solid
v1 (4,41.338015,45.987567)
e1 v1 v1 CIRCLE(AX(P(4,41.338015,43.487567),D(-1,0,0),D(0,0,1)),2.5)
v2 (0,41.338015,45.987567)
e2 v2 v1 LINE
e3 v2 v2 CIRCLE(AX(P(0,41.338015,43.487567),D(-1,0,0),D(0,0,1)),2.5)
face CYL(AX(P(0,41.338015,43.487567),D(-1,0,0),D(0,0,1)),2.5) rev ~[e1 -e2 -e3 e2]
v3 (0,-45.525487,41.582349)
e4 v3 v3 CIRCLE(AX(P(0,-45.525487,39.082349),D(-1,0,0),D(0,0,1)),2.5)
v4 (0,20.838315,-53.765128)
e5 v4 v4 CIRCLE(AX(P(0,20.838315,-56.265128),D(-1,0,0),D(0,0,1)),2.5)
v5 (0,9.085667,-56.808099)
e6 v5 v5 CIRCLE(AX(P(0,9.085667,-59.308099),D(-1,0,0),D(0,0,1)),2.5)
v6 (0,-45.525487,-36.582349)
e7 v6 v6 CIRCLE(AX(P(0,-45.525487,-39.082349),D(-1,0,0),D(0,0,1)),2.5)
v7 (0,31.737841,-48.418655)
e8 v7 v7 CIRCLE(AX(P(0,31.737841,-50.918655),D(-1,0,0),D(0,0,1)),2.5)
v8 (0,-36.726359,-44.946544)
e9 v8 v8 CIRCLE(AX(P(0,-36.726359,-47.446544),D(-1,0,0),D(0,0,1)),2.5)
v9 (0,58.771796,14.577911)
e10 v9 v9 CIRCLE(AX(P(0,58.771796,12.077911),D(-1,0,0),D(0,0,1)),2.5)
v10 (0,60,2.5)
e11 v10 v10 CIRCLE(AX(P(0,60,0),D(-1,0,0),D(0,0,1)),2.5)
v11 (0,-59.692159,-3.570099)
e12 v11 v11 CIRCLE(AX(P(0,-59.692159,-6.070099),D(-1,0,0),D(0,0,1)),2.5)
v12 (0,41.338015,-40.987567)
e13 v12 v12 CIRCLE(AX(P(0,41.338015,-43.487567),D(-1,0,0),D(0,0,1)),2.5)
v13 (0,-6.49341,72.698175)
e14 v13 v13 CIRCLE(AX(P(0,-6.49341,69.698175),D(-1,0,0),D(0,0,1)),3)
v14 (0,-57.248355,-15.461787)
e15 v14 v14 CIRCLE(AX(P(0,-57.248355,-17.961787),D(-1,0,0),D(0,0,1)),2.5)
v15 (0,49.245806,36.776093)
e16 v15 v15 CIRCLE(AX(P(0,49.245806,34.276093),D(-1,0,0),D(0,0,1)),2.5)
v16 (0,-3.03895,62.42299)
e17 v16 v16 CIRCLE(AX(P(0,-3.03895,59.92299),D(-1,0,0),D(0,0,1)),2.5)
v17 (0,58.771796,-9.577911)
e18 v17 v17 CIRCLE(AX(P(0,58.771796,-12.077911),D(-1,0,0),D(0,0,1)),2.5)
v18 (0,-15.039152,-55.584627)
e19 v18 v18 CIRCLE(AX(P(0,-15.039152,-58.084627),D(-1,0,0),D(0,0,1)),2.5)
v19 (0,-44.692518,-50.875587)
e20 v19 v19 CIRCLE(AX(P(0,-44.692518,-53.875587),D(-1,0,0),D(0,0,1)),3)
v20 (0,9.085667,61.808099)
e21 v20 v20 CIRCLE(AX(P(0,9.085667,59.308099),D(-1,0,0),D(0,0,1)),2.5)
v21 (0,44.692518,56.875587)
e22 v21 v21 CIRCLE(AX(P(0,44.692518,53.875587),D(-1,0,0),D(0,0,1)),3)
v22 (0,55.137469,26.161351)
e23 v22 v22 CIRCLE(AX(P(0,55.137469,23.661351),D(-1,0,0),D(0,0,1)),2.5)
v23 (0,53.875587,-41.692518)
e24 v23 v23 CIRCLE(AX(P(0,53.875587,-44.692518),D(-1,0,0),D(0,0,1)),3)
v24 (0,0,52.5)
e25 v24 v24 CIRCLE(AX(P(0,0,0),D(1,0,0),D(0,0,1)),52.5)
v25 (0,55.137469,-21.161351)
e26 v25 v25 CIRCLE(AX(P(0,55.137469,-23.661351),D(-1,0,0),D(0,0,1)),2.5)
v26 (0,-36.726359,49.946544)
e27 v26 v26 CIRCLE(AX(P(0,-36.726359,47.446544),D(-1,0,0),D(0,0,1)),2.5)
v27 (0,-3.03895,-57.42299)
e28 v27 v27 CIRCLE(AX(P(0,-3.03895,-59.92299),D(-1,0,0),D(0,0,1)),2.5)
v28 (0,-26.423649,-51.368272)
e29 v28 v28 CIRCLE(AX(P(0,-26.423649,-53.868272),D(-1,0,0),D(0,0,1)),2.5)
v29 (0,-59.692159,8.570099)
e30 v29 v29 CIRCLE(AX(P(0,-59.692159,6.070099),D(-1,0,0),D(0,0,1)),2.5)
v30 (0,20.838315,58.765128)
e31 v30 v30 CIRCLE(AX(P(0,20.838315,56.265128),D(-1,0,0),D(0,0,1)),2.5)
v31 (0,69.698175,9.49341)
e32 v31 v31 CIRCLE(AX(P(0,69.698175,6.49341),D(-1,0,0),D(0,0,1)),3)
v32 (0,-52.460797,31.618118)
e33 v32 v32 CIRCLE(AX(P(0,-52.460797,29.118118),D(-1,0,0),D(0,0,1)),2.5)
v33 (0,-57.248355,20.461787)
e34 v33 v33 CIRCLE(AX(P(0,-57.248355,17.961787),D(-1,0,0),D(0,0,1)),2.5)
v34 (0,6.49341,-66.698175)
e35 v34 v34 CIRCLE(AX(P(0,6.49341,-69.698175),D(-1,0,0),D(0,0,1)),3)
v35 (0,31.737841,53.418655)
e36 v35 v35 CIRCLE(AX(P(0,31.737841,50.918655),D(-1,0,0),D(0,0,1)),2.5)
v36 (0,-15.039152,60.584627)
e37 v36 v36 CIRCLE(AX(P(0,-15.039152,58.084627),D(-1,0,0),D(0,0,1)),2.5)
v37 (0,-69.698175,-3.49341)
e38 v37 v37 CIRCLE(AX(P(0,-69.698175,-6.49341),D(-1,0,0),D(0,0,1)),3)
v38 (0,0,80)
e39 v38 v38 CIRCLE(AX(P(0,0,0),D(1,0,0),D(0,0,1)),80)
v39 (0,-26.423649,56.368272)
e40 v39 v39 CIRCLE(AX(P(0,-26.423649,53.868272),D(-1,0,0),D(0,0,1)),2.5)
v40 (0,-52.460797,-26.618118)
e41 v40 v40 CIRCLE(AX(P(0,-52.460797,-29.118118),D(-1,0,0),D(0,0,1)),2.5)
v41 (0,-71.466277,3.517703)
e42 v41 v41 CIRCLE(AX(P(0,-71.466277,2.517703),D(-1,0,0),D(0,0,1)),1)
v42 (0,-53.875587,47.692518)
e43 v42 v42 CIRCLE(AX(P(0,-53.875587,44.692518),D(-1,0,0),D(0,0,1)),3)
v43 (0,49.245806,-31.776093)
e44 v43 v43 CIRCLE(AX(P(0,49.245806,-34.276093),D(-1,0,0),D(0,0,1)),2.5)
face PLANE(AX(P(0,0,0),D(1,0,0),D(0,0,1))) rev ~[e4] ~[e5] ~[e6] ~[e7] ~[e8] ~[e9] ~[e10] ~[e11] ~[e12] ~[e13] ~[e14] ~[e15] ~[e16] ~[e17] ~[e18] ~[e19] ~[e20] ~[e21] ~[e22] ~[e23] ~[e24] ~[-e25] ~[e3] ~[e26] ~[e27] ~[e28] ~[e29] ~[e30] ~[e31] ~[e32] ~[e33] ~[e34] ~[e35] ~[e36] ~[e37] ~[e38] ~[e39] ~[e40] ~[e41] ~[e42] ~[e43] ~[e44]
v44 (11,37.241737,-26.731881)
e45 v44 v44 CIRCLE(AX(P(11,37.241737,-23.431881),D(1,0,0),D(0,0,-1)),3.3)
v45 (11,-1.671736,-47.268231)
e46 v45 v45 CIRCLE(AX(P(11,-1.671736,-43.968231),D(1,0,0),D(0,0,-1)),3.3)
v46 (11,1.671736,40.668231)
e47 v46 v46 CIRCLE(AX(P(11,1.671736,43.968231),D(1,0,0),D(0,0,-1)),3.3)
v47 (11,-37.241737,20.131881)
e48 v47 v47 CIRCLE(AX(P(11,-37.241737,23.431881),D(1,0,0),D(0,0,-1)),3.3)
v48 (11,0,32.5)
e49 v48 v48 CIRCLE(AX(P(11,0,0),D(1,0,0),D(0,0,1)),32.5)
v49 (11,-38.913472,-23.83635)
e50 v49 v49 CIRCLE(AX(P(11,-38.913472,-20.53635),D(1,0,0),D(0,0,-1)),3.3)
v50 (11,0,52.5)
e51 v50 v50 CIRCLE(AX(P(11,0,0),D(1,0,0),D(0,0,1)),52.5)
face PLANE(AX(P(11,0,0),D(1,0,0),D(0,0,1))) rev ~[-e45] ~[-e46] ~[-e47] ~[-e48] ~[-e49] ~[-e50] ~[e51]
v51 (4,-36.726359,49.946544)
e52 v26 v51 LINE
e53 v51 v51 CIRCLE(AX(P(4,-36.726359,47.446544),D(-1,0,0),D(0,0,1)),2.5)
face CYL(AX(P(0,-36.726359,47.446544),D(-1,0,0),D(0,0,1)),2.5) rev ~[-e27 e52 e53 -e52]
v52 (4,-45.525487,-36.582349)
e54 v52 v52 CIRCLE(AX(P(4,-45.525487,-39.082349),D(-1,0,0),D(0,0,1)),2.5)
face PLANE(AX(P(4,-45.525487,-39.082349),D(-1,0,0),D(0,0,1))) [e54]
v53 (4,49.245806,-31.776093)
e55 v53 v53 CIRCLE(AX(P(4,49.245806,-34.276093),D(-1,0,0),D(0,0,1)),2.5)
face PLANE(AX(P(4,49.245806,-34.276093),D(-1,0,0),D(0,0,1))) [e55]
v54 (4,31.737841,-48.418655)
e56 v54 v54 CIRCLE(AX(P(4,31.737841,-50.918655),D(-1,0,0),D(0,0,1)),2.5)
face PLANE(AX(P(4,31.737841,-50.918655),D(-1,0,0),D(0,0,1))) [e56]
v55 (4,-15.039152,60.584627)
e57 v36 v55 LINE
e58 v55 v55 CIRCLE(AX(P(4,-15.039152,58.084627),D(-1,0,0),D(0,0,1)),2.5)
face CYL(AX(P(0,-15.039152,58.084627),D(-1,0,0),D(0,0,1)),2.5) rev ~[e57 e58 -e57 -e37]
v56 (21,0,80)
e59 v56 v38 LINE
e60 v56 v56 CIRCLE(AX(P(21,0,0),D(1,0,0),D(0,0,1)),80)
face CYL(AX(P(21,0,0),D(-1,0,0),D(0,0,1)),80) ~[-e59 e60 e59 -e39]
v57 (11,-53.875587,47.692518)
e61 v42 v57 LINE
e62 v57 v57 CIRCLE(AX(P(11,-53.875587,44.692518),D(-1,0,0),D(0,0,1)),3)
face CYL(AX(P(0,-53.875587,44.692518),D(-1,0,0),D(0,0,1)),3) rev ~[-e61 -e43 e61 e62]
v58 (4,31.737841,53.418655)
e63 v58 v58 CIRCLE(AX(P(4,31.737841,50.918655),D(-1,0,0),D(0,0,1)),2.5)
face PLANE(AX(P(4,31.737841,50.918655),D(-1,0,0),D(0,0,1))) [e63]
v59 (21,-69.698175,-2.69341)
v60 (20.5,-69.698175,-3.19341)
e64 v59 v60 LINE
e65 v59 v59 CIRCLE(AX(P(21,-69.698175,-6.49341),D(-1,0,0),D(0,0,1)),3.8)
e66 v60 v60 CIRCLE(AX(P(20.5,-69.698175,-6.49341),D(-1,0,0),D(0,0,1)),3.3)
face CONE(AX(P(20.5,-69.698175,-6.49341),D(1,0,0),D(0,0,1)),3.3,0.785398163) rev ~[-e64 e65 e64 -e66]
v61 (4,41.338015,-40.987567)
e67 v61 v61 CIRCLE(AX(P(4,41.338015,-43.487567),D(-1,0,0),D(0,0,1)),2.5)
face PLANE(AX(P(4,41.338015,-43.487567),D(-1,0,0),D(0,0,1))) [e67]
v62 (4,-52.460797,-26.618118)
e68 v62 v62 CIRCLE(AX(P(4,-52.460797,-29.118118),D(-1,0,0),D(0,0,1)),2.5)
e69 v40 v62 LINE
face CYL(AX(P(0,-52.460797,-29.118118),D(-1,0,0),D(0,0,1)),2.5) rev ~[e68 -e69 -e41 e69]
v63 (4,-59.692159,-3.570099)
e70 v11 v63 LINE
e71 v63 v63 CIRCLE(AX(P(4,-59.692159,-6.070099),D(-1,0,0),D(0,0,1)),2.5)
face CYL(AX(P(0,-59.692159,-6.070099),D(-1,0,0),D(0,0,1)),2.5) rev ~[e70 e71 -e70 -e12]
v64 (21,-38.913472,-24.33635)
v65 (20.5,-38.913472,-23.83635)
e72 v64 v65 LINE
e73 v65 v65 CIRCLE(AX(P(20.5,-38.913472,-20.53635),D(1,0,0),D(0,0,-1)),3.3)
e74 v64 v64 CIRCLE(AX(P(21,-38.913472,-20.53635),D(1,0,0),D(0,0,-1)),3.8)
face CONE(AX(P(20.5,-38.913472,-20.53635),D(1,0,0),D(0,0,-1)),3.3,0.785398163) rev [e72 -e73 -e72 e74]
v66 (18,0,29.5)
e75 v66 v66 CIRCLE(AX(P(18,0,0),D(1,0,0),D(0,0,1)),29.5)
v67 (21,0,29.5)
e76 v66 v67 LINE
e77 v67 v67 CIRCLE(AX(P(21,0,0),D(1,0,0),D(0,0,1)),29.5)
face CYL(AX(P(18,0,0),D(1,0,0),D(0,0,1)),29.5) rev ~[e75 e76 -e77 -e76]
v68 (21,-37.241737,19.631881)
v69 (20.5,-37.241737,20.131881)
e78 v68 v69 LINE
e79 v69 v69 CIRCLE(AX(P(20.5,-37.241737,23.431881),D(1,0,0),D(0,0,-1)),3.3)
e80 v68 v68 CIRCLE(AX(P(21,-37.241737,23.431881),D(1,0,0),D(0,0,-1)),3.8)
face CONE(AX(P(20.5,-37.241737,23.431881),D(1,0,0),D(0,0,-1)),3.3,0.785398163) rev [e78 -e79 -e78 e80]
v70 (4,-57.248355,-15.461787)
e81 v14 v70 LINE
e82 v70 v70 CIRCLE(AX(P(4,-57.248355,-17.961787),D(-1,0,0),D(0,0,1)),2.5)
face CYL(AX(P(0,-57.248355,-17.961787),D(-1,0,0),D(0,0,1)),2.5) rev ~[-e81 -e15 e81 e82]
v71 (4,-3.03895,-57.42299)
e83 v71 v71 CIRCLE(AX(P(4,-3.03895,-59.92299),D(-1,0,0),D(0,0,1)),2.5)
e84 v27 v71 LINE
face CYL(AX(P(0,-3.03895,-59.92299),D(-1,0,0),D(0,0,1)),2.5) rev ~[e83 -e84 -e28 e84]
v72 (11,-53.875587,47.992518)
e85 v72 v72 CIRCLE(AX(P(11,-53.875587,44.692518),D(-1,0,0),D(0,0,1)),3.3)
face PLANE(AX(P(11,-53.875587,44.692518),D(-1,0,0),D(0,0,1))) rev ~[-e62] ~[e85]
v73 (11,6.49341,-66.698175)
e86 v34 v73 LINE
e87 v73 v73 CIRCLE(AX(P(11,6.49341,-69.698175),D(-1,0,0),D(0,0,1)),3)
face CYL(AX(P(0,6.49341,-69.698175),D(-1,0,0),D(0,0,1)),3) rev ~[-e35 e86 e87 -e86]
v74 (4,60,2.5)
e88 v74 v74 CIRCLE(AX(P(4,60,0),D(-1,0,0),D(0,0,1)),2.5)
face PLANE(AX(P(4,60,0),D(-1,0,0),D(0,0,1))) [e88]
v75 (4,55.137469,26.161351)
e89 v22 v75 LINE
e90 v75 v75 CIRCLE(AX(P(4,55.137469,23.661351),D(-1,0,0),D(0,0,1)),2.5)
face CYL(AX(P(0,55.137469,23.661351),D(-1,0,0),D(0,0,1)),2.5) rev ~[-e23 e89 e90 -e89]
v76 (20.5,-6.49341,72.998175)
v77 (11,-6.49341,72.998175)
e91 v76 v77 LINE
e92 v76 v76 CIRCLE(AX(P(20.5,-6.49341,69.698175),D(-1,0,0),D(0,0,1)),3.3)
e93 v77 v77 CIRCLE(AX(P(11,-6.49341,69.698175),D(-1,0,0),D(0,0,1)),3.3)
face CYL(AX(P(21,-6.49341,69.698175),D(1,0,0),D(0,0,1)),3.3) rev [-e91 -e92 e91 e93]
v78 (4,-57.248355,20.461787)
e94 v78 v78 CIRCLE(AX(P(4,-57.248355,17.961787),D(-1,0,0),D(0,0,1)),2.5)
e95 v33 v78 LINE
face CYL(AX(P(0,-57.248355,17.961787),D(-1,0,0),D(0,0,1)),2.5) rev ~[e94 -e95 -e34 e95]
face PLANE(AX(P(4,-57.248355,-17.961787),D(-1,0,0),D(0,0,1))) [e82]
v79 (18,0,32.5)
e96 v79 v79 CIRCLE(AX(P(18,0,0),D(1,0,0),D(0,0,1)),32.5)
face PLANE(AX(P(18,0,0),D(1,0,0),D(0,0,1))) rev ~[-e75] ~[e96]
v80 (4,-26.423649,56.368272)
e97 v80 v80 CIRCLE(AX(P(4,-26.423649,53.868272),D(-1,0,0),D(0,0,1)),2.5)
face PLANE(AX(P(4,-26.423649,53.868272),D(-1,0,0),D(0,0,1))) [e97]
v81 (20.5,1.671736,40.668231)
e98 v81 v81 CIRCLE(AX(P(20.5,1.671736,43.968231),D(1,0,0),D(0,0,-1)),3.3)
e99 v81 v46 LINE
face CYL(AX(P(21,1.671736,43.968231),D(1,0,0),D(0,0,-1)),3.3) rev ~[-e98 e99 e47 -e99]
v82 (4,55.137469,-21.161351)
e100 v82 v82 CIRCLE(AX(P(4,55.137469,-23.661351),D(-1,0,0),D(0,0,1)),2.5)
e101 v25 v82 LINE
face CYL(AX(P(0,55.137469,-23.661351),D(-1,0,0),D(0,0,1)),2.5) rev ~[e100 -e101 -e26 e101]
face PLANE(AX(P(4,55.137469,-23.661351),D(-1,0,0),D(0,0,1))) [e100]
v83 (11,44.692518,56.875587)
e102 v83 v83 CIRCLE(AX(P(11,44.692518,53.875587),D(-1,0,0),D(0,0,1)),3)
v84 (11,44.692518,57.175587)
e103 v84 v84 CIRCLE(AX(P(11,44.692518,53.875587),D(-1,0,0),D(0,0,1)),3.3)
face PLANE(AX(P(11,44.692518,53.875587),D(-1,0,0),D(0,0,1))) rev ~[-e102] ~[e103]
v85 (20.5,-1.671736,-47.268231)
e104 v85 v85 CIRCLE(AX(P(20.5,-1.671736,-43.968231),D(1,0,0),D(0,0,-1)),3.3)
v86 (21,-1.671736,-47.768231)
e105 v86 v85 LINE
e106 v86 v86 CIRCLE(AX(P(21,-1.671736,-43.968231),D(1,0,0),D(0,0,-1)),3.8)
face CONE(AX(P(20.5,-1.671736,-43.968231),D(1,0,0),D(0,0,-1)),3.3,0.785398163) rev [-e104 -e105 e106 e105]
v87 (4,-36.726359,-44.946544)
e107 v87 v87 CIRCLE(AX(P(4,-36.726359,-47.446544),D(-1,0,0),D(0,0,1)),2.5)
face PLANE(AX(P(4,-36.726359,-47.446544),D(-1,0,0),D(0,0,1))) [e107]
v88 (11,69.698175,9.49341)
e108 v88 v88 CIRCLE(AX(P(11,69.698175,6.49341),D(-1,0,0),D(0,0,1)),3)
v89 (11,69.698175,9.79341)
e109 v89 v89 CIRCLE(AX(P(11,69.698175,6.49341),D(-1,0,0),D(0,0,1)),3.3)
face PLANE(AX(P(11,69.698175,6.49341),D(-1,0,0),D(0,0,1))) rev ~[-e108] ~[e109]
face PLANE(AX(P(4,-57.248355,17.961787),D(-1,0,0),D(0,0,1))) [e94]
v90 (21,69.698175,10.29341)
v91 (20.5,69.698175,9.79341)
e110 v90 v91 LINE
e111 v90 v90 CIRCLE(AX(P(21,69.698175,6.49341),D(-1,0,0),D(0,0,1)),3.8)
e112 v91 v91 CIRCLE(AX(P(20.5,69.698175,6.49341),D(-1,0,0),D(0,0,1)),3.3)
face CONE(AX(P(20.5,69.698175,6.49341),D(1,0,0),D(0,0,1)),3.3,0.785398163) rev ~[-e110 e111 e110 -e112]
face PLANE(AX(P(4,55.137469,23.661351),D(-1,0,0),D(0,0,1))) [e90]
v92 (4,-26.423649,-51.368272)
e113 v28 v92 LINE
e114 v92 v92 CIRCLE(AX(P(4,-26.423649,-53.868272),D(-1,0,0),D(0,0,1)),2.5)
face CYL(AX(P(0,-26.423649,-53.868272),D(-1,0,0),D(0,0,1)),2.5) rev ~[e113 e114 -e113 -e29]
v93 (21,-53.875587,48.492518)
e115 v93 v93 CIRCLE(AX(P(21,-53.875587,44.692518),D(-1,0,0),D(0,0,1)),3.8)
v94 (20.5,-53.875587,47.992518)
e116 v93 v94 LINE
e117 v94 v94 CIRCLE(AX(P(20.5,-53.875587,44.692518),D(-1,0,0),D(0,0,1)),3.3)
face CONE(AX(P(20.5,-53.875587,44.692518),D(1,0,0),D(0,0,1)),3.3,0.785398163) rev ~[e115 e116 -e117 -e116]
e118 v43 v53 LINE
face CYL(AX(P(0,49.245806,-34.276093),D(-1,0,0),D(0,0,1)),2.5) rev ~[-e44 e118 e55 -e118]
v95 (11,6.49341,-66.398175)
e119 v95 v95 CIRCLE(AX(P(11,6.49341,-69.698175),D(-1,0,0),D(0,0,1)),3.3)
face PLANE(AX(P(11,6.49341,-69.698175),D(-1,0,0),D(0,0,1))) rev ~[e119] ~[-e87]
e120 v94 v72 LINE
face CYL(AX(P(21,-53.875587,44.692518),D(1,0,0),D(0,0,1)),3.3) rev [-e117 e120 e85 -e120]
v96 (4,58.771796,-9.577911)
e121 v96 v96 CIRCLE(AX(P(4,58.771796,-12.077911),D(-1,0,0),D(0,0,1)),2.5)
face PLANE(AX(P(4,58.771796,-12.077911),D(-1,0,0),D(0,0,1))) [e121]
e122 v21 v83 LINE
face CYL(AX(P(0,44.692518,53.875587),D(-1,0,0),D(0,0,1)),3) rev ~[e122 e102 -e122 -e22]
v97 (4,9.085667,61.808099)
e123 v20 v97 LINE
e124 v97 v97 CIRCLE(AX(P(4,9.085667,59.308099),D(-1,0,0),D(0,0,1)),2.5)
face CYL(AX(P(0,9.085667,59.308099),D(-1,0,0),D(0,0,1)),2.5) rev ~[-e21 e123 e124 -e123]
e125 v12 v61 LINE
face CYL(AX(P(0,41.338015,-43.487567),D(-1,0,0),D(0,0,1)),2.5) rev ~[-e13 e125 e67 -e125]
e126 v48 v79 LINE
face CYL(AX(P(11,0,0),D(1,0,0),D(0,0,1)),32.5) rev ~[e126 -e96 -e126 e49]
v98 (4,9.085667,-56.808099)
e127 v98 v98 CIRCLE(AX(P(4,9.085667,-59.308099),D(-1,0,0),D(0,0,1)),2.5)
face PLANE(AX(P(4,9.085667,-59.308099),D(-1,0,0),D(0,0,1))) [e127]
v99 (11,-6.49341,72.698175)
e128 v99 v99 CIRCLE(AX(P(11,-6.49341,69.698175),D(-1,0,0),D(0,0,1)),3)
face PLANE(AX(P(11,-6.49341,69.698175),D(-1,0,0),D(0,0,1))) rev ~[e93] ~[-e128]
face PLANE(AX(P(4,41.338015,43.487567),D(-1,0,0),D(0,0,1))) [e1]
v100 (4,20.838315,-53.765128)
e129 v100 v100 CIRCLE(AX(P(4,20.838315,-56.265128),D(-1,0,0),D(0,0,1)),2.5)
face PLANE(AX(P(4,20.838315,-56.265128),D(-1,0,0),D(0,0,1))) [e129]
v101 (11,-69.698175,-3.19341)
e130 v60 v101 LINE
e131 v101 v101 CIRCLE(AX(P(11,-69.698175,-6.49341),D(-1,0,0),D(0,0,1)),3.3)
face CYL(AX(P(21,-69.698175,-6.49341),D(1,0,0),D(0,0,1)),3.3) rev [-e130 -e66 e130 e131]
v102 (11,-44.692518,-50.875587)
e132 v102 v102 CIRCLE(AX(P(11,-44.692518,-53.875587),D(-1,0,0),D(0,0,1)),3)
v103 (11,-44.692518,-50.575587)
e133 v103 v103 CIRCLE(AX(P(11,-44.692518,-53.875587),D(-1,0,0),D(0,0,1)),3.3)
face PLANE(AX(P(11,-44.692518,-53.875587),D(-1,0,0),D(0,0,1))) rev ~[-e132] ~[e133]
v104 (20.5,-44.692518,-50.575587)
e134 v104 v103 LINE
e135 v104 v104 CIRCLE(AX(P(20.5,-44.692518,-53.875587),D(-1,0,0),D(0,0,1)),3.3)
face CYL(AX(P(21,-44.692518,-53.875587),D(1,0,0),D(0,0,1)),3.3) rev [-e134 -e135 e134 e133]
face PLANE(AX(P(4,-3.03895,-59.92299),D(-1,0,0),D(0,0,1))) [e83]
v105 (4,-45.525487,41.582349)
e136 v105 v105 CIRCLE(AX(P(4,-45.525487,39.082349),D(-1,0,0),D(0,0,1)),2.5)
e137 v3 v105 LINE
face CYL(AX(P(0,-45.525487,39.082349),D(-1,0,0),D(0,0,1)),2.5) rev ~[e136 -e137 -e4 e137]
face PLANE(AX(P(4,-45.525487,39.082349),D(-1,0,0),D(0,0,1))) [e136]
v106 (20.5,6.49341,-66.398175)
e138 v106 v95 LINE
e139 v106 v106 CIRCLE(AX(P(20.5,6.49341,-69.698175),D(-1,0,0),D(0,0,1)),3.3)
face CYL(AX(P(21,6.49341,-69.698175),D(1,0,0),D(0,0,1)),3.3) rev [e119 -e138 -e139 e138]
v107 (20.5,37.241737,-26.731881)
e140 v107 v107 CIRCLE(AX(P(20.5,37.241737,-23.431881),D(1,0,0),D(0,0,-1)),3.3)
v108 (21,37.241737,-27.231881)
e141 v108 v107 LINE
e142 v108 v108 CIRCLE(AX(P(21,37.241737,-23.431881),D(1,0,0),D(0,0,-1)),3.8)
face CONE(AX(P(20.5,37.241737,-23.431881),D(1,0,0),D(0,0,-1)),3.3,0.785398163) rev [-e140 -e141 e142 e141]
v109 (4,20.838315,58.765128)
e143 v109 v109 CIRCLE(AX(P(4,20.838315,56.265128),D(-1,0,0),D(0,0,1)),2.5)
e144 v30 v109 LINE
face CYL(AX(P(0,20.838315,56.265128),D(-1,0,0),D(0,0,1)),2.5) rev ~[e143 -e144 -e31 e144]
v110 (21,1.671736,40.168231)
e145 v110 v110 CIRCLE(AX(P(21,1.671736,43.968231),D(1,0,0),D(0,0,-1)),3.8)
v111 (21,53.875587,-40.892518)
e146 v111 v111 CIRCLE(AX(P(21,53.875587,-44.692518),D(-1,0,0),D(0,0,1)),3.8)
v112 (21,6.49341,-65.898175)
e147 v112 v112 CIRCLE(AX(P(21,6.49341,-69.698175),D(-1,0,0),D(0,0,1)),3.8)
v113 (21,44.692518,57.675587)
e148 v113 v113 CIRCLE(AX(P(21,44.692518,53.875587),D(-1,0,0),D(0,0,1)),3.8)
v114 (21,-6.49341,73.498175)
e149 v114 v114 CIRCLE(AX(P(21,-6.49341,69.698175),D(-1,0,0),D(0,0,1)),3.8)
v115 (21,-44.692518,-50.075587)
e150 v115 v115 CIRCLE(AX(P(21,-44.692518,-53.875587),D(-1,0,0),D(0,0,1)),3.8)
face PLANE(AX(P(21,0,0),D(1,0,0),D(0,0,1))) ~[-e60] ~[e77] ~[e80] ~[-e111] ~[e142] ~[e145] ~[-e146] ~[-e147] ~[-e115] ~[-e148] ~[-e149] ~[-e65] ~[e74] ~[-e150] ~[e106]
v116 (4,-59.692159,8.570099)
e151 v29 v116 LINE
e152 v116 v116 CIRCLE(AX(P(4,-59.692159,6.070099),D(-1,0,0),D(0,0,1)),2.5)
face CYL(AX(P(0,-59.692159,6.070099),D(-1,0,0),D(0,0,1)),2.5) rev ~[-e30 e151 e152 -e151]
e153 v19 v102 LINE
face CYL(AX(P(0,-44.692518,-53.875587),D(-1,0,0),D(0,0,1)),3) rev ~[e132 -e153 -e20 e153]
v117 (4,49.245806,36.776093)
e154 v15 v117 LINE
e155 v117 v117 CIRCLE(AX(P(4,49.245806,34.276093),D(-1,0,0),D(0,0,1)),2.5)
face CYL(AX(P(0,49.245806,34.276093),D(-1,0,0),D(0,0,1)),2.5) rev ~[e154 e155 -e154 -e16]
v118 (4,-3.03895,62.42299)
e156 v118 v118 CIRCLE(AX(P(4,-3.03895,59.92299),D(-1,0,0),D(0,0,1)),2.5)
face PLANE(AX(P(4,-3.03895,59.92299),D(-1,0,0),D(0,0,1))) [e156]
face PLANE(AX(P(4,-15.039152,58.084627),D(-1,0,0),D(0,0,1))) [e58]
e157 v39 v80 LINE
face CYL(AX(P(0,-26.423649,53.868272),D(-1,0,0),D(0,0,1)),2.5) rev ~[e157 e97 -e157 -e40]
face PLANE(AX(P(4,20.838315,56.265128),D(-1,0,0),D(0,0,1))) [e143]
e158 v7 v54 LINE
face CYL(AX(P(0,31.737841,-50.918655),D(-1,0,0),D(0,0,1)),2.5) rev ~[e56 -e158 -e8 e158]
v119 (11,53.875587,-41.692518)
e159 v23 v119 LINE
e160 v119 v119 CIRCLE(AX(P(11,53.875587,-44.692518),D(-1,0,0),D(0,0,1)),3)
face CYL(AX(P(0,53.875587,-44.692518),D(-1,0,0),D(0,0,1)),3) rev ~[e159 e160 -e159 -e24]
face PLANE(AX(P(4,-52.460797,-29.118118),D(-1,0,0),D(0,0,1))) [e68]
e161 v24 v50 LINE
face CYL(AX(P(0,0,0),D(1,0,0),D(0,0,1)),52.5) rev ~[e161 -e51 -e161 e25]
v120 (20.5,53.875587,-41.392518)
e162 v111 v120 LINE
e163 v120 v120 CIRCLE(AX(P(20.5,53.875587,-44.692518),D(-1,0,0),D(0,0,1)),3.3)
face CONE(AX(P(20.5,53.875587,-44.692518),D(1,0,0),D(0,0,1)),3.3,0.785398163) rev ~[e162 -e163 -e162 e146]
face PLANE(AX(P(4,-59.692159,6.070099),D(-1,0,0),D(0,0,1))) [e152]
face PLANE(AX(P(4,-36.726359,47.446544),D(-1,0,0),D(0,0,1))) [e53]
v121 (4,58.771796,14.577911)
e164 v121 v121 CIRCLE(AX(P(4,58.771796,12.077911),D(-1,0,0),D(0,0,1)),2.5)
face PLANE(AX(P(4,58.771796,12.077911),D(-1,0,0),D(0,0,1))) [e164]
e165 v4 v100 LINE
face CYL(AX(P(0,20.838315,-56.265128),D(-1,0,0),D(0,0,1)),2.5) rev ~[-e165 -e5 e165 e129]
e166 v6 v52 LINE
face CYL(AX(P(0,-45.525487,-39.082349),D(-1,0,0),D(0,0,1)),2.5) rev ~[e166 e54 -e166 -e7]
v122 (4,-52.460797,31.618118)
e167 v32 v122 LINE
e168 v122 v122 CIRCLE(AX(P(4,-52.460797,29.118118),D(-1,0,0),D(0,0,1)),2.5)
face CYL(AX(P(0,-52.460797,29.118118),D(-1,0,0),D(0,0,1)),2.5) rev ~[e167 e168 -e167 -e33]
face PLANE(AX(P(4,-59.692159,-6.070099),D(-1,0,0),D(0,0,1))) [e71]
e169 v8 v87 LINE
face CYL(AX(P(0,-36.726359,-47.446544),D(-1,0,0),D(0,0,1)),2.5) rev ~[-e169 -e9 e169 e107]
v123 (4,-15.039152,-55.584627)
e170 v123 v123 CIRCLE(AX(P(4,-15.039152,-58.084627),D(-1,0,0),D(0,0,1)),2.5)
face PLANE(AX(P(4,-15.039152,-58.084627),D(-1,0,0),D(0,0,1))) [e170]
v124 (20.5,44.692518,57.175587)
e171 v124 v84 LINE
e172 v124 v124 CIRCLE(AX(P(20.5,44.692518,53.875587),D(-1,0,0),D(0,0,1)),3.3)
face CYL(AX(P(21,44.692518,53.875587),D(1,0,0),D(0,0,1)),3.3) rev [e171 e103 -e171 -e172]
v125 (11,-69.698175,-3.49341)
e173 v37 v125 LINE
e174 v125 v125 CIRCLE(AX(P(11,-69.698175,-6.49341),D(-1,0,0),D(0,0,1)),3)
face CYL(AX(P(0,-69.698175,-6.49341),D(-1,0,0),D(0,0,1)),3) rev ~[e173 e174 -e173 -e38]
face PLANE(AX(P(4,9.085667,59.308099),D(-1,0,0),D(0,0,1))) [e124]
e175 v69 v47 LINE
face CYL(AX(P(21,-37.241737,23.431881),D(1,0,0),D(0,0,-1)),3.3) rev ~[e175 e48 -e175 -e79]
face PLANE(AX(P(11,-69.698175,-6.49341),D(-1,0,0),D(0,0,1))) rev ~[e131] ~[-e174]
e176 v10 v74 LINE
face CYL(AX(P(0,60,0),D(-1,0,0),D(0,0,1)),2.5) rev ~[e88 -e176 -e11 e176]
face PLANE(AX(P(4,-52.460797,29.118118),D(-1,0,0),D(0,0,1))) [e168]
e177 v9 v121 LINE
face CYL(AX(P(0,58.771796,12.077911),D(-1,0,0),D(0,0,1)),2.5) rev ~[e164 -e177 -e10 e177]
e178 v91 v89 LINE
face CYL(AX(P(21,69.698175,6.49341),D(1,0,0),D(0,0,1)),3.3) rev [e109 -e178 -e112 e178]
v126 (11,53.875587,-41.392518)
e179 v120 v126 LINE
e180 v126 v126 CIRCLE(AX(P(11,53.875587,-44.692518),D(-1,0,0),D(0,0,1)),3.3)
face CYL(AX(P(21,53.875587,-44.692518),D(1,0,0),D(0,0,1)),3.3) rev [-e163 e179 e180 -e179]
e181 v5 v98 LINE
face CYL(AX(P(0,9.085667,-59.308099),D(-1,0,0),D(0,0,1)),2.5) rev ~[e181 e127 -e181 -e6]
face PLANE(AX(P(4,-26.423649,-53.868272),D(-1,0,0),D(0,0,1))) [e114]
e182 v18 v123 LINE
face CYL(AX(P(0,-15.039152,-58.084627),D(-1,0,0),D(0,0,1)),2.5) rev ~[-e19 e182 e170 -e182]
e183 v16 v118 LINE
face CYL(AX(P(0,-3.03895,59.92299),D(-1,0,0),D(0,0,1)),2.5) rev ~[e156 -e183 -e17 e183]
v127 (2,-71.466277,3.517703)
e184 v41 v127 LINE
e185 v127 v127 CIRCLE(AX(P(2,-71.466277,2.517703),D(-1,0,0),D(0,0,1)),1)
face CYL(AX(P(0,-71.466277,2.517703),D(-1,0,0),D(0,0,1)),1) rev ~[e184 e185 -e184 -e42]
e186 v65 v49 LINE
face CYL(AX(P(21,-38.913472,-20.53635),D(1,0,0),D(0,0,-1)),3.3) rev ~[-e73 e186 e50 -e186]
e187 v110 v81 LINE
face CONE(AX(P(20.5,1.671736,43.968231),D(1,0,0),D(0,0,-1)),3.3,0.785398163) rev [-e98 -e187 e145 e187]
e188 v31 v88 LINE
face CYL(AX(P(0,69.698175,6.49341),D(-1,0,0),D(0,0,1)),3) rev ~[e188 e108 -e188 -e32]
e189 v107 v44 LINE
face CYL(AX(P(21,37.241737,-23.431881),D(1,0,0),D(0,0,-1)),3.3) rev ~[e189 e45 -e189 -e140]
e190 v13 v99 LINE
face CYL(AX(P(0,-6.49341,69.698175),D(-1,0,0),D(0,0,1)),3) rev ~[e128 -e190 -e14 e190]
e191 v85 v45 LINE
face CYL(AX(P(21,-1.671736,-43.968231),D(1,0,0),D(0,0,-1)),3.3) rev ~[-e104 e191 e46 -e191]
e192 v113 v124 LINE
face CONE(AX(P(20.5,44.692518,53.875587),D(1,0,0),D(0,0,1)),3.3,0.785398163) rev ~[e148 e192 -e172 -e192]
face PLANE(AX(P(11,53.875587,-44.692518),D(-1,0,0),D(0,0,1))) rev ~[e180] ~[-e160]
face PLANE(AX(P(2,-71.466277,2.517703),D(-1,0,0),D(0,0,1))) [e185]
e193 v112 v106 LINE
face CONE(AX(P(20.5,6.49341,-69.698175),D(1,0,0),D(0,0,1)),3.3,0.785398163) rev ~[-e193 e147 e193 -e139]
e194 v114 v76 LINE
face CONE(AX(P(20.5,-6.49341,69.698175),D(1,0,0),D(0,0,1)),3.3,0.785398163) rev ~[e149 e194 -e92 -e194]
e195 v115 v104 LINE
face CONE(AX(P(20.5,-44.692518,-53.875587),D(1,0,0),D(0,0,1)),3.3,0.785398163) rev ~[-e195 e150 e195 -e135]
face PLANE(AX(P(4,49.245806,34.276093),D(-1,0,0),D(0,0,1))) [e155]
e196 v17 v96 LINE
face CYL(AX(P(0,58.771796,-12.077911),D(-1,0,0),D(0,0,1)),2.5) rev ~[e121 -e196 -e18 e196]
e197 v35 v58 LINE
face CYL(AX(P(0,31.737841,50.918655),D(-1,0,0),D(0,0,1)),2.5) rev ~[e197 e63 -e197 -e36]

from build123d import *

# Parameters (mm, degrees)
SKETCH3_R          = 2.5
CUT_EXTRUDE1_DEPTH = 4
SKETCH6_R          = 3
CUT_EXTRUDE4_DEPTH = 11
SKETCH7_R          = 3.3
CUT_EXTRUDE5_DEPTH = 10
SKETCH9_R          = 1
CUT_EXTRUDE7_DEPTH = 2
CUT_EXTRUDE8_REACH = 117.07
SKETCH10_R         = 3.3
CHAMFER1_SIZE      = 0.5


with BuildPart() as part:
    # Sketch2 → Revolve1 (revolve)
    with BuildSketch(Plane.XY, mode=Mode.PRIVATE) as revolve1_sk:
        Polygon((0, 80), (0, 52.5), (11, 52.5), (11, 32.5), (18, 32.5), (18, 29.5), (21, 29.5), (21, 80), align=None)
    revolve(revolve1_sk.sketch.rotate(Axis((0, 0, 0), (1, 0, 0)), 90), axis=Axis((0, 0, 0), (1, 0, 0)))

    # Sketch3 → Cut-Extrude1 (cut)
    with BuildSketch(Plane.ZY):
        with Locations((0, 60)):
            Circle(SKETCH3_R)
        with Locations((12.077911205, 58.771796475)):
            Circle(SKETCH3_R)
        with Locations((23.661351307, 55.137468697)):
            Circle(SKETCH3_R)
        with Locations((34.276092906, 49.245806472)):
            Circle(SKETCH3_R)
        with Locations((43.487567234, 41.338015145)):
            Circle(SKETCH3_R)
        with Locations((50.91865545, 31.73784062)):
            Circle(SKETCH3_R)
        with Locations((56.265127929, 20.838315171)):
            Circle(SKETCH3_R)
        with Locations((59.30809946, 9.08566665)):
            Circle(SKETCH3_R)
        with Locations((59.92299043, -3.03895013)):
            Circle(SKETCH3_R)
        with Locations((58.084627132, -15.039151936)):
            Circle(SKETCH3_R)
        with Locations((53.868272374, -26.423649093)):
            Circle(SKETCH3_R)
        with Locations((47.446544216, -36.726358953)):
            Circle(SKETCH3_R)
        with Locations((39.082348963, -45.525487362)):
            Circle(SKETCH3_R)
        with Locations((29.118117752, -52.460796969)):
            Circle(SKETCH3_R)
        with Locations((17.961787378, -57.248355384)):
            Circle(SKETCH3_R)
        with Locations((6.070099319, -59.692159404)):
            Circle(SKETCH3_R)
        with Locations((-6.070099319, -59.692159404)):
            Circle(SKETCH3_R)
        with Locations((-17.961787378, -57.248355384)):
            Circle(SKETCH3_R)
        with Locations((-29.118117752, -52.460796969)):
            Circle(SKETCH3_R)
        with Locations((-39.082348963, -45.525487362)):
            Circle(SKETCH3_R)
        with Locations((-47.446544216, -36.726358953)):
            Circle(SKETCH3_R)
        with Locations((-53.868272374, -26.423649093)):
            Circle(SKETCH3_R)
        with Locations((-58.084627132, -15.039151936)):
            Circle(SKETCH3_R)
        with Locations((-59.92299043, -3.03895013)):
            Circle(SKETCH3_R)
        with Locations((-59.30809946, 9.08566665)):
            Circle(SKETCH3_R)
        with Locations((-56.265127929, 20.838315171)):
            Circle(SKETCH3_R)
        with Locations((-50.91865545, 31.73784062)):
            Circle(SKETCH3_R)
        with Locations((-43.487567234, 41.338015145)):
            Circle(SKETCH3_R)
        with Locations((-34.276092906, 49.245806472)):
            Circle(SKETCH3_R)
        with Locations((-23.661351307, 55.137468697)):
            Circle(SKETCH3_R)
        with Locations((-12.077911205, 58.771796475)):
            Circle(SKETCH3_R)
    extrude(amount=-CUT_EXTRUDE1_DEPTH, mode=Mode.SUBTRACT)

    # Sketch6 → Cut-Extrude4 (cut)
    with BuildSketch(Plane.ZY):
        with Locations((53.875586653, 44.692517973)):
            Circle(SKETCH6_R)
        with Locations((69.69817519, -6.493410136)):
            Circle(SKETCH6_R)
        with Locations((44.692517973, -53.875586653)):
            Circle(SKETCH6_R)
        with Locations((-6.493410136, -69.69817519)):
            Circle(SKETCH6_R)
        with Locations((-53.875586653, -44.692517973)):
            Circle(SKETCH6_R)
        with Locations((-69.69817519, 6.493410136)):
            Circle(SKETCH6_R)
        with Locations((-44.692517973, 53.875586653)):
            Circle(SKETCH6_R)
        with Locations((6.493410136, 69.69817519)):
            Circle(SKETCH6_R)
    extrude(amount=-CUT_EXTRUDE4_DEPTH, mode=Mode.SUBTRACT)

    # Sketch7 → Cut-Extrude5 (cut)
    with BuildSketch(Plane.ZY.offset(-21)):
        with Locations((53.875586653, 44.692517973)):
            Circle(SKETCH7_R)
        with Locations((69.69817519, -6.493410136)):
            Circle(SKETCH7_R)
        with Locations((44.692517973, -53.875586653)):
            Circle(SKETCH7_R)
        with Locations((-6.493410136, -69.69817519)):
            Circle(SKETCH7_R)
        with Locations((-53.875586653, -44.692517973)):
            Circle(SKETCH7_R)
        with Locations((-69.69817519, 6.493410136)):
            Circle(SKETCH7_R)
        with Locations((-44.692517973, 53.875586653)):
            Circle(SKETCH7_R)
        with Locations((6.493410136, 69.69817519)):
            Circle(SKETCH7_R)
    extrude(amount=CUT_EXTRUDE5_DEPTH, mode=Mode.SUBTRACT)

    # Sketch9 → Cut-Extrude7 (cut)
    with BuildSketch(Plane.ZY):
        with Locations((2.51770285, -71.46627686)):
            Circle(SKETCH9_R)
    extrude(amount=-CUT_EXTRUDE7_DEPTH, mode=Mode.SUBTRACT)

    # Sketch10 → Cut-Extrude8 (cut, up to next)
    with BuildSketch(Plane(origin=(21, 0, 0), x_dir=(0, 0, -1), z_dir=(1, 0, 0)), mode=Mode.PRIVATE) as cut_extrude8_sk1:
        with Locations((23.431880753, 37.241736861)):
            Circle(SKETCH10_R)
    cut_extrude8_tool1 = extrude(cut_extrude8_sk1.sketch, amount=-CUT_EXTRUDE8_REACH, mode=Mode.PRIVATE) & part.part
    # Sketch10 → Cut-Extrude8 (cut, up to next)
    with BuildSketch(Plane(origin=(21, 0, 0), x_dir=(0, 0, -1), z_dir=(1, 0, 0)), mode=Mode.PRIVATE) as cut_extrude8_sk2:
        with Locations((20.536349826, -38.913472421)):
            Circle(SKETCH10_R)
    cut_extrude8_tool2 = extrude(cut_extrude8_sk2.sketch, amount=-CUT_EXTRUDE8_REACH, mode=Mode.PRIVATE) & part.part
    # Sketch10 → Cut-Extrude8 (cut, up to next)
    with BuildSketch(Plane(origin=(21, 0, 0), x_dir=(0, 0, -1), z_dir=(1, 0, 0)), mode=Mode.PRIVATE) as cut_extrude8_sk3:
        with Locations((-43.968230579, 1.67173556)):
            Circle(SKETCH10_R)
    cut_extrude8_tool3 = extrude(cut_extrude8_sk3.sketch, amount=-CUT_EXTRUDE8_REACH, mode=Mode.PRIVATE) & part.part
    # Sketch10 → Cut-Extrude8 (cut, up to next)
    with BuildSketch(Plane(origin=(21, 0, 0), x_dir=(0, 0, -1), z_dir=(1, 0, 0)), mode=Mode.PRIVATE) as cut_extrude8_sk4:
        with Locations((-23.431880753, -37.241736861)):
            Circle(SKETCH10_R)
    cut_extrude8_tool4 = extrude(cut_extrude8_sk4.sketch, amount=-CUT_EXTRUDE8_REACH, mode=Mode.PRIVATE) & part.part
    # Sketch10 → Cut-Extrude8 (cut, up to next)
    with BuildSketch(Plane(origin=(21, 0, 0), x_dir=(0, 0, -1), z_dir=(1, 0, 0)), mode=Mode.PRIVATE) as cut_extrude8_sk5:
        with Locations((43.968230579, -1.67173556)):
            Circle(SKETCH10_R)
    cut_extrude8_tool5 = extrude(cut_extrude8_sk5.sketch, amount=-CUT_EXTRUDE8_REACH, mode=Mode.PRIVATE) & part.part
    add(cut_extrude8_tool1.solids().sort_by_distance((21, 37.241737, -23.431881))[0], mode=Mode.SUBTRACT)
    add(cut_extrude8_tool2.solids().sort_by_distance((21, -38.913472, -20.53635))[0], mode=Mode.SUBTRACT)
    add(cut_extrude8_tool3.solids().sort_by_distance((21, 1.671736, 43.968231))[0], mode=Mode.SUBTRACT)
    add(cut_extrude8_tool4.solids().sort_by_distance((21, -37.241737, 23.431881))[0], mode=Mode.SUBTRACT)
    add(cut_extrude8_tool5.solids().sort_by_distance((21, -1.671736, -43.968231))[0], mode=Mode.SUBTRACT)

    # Chamfer1
    chamfer1_edges = [part.edges().sort_by_distance(p)[0] for p in [
        (21, 53.875586653, -47.992517973),
        (21, -6.493410136, 66.39817519),
        (21, -53.875586653, 41.392517973),
        (21, -69.69817519, -9.793410136),
        (21, -44.692517973, -57.175586653),
        (21, 6.493410136, -72.99817519),
        (21, 69.69817519, 3.193410136),
        (21, 44.692517973, 50.575586653),
        (21, 37.241736861, -20.131880753),
        (21, -1.67173556, -40.668230579),
        (21, -38.913472421, -17.236349826),
        (21, 1.67173556, 47.268230579),
        (21, -37.241736861, 26.731880753),
    ]]
    chamfer(chamfer1_edges, length=CHAMFER1_SIZE)


solid = part.part
